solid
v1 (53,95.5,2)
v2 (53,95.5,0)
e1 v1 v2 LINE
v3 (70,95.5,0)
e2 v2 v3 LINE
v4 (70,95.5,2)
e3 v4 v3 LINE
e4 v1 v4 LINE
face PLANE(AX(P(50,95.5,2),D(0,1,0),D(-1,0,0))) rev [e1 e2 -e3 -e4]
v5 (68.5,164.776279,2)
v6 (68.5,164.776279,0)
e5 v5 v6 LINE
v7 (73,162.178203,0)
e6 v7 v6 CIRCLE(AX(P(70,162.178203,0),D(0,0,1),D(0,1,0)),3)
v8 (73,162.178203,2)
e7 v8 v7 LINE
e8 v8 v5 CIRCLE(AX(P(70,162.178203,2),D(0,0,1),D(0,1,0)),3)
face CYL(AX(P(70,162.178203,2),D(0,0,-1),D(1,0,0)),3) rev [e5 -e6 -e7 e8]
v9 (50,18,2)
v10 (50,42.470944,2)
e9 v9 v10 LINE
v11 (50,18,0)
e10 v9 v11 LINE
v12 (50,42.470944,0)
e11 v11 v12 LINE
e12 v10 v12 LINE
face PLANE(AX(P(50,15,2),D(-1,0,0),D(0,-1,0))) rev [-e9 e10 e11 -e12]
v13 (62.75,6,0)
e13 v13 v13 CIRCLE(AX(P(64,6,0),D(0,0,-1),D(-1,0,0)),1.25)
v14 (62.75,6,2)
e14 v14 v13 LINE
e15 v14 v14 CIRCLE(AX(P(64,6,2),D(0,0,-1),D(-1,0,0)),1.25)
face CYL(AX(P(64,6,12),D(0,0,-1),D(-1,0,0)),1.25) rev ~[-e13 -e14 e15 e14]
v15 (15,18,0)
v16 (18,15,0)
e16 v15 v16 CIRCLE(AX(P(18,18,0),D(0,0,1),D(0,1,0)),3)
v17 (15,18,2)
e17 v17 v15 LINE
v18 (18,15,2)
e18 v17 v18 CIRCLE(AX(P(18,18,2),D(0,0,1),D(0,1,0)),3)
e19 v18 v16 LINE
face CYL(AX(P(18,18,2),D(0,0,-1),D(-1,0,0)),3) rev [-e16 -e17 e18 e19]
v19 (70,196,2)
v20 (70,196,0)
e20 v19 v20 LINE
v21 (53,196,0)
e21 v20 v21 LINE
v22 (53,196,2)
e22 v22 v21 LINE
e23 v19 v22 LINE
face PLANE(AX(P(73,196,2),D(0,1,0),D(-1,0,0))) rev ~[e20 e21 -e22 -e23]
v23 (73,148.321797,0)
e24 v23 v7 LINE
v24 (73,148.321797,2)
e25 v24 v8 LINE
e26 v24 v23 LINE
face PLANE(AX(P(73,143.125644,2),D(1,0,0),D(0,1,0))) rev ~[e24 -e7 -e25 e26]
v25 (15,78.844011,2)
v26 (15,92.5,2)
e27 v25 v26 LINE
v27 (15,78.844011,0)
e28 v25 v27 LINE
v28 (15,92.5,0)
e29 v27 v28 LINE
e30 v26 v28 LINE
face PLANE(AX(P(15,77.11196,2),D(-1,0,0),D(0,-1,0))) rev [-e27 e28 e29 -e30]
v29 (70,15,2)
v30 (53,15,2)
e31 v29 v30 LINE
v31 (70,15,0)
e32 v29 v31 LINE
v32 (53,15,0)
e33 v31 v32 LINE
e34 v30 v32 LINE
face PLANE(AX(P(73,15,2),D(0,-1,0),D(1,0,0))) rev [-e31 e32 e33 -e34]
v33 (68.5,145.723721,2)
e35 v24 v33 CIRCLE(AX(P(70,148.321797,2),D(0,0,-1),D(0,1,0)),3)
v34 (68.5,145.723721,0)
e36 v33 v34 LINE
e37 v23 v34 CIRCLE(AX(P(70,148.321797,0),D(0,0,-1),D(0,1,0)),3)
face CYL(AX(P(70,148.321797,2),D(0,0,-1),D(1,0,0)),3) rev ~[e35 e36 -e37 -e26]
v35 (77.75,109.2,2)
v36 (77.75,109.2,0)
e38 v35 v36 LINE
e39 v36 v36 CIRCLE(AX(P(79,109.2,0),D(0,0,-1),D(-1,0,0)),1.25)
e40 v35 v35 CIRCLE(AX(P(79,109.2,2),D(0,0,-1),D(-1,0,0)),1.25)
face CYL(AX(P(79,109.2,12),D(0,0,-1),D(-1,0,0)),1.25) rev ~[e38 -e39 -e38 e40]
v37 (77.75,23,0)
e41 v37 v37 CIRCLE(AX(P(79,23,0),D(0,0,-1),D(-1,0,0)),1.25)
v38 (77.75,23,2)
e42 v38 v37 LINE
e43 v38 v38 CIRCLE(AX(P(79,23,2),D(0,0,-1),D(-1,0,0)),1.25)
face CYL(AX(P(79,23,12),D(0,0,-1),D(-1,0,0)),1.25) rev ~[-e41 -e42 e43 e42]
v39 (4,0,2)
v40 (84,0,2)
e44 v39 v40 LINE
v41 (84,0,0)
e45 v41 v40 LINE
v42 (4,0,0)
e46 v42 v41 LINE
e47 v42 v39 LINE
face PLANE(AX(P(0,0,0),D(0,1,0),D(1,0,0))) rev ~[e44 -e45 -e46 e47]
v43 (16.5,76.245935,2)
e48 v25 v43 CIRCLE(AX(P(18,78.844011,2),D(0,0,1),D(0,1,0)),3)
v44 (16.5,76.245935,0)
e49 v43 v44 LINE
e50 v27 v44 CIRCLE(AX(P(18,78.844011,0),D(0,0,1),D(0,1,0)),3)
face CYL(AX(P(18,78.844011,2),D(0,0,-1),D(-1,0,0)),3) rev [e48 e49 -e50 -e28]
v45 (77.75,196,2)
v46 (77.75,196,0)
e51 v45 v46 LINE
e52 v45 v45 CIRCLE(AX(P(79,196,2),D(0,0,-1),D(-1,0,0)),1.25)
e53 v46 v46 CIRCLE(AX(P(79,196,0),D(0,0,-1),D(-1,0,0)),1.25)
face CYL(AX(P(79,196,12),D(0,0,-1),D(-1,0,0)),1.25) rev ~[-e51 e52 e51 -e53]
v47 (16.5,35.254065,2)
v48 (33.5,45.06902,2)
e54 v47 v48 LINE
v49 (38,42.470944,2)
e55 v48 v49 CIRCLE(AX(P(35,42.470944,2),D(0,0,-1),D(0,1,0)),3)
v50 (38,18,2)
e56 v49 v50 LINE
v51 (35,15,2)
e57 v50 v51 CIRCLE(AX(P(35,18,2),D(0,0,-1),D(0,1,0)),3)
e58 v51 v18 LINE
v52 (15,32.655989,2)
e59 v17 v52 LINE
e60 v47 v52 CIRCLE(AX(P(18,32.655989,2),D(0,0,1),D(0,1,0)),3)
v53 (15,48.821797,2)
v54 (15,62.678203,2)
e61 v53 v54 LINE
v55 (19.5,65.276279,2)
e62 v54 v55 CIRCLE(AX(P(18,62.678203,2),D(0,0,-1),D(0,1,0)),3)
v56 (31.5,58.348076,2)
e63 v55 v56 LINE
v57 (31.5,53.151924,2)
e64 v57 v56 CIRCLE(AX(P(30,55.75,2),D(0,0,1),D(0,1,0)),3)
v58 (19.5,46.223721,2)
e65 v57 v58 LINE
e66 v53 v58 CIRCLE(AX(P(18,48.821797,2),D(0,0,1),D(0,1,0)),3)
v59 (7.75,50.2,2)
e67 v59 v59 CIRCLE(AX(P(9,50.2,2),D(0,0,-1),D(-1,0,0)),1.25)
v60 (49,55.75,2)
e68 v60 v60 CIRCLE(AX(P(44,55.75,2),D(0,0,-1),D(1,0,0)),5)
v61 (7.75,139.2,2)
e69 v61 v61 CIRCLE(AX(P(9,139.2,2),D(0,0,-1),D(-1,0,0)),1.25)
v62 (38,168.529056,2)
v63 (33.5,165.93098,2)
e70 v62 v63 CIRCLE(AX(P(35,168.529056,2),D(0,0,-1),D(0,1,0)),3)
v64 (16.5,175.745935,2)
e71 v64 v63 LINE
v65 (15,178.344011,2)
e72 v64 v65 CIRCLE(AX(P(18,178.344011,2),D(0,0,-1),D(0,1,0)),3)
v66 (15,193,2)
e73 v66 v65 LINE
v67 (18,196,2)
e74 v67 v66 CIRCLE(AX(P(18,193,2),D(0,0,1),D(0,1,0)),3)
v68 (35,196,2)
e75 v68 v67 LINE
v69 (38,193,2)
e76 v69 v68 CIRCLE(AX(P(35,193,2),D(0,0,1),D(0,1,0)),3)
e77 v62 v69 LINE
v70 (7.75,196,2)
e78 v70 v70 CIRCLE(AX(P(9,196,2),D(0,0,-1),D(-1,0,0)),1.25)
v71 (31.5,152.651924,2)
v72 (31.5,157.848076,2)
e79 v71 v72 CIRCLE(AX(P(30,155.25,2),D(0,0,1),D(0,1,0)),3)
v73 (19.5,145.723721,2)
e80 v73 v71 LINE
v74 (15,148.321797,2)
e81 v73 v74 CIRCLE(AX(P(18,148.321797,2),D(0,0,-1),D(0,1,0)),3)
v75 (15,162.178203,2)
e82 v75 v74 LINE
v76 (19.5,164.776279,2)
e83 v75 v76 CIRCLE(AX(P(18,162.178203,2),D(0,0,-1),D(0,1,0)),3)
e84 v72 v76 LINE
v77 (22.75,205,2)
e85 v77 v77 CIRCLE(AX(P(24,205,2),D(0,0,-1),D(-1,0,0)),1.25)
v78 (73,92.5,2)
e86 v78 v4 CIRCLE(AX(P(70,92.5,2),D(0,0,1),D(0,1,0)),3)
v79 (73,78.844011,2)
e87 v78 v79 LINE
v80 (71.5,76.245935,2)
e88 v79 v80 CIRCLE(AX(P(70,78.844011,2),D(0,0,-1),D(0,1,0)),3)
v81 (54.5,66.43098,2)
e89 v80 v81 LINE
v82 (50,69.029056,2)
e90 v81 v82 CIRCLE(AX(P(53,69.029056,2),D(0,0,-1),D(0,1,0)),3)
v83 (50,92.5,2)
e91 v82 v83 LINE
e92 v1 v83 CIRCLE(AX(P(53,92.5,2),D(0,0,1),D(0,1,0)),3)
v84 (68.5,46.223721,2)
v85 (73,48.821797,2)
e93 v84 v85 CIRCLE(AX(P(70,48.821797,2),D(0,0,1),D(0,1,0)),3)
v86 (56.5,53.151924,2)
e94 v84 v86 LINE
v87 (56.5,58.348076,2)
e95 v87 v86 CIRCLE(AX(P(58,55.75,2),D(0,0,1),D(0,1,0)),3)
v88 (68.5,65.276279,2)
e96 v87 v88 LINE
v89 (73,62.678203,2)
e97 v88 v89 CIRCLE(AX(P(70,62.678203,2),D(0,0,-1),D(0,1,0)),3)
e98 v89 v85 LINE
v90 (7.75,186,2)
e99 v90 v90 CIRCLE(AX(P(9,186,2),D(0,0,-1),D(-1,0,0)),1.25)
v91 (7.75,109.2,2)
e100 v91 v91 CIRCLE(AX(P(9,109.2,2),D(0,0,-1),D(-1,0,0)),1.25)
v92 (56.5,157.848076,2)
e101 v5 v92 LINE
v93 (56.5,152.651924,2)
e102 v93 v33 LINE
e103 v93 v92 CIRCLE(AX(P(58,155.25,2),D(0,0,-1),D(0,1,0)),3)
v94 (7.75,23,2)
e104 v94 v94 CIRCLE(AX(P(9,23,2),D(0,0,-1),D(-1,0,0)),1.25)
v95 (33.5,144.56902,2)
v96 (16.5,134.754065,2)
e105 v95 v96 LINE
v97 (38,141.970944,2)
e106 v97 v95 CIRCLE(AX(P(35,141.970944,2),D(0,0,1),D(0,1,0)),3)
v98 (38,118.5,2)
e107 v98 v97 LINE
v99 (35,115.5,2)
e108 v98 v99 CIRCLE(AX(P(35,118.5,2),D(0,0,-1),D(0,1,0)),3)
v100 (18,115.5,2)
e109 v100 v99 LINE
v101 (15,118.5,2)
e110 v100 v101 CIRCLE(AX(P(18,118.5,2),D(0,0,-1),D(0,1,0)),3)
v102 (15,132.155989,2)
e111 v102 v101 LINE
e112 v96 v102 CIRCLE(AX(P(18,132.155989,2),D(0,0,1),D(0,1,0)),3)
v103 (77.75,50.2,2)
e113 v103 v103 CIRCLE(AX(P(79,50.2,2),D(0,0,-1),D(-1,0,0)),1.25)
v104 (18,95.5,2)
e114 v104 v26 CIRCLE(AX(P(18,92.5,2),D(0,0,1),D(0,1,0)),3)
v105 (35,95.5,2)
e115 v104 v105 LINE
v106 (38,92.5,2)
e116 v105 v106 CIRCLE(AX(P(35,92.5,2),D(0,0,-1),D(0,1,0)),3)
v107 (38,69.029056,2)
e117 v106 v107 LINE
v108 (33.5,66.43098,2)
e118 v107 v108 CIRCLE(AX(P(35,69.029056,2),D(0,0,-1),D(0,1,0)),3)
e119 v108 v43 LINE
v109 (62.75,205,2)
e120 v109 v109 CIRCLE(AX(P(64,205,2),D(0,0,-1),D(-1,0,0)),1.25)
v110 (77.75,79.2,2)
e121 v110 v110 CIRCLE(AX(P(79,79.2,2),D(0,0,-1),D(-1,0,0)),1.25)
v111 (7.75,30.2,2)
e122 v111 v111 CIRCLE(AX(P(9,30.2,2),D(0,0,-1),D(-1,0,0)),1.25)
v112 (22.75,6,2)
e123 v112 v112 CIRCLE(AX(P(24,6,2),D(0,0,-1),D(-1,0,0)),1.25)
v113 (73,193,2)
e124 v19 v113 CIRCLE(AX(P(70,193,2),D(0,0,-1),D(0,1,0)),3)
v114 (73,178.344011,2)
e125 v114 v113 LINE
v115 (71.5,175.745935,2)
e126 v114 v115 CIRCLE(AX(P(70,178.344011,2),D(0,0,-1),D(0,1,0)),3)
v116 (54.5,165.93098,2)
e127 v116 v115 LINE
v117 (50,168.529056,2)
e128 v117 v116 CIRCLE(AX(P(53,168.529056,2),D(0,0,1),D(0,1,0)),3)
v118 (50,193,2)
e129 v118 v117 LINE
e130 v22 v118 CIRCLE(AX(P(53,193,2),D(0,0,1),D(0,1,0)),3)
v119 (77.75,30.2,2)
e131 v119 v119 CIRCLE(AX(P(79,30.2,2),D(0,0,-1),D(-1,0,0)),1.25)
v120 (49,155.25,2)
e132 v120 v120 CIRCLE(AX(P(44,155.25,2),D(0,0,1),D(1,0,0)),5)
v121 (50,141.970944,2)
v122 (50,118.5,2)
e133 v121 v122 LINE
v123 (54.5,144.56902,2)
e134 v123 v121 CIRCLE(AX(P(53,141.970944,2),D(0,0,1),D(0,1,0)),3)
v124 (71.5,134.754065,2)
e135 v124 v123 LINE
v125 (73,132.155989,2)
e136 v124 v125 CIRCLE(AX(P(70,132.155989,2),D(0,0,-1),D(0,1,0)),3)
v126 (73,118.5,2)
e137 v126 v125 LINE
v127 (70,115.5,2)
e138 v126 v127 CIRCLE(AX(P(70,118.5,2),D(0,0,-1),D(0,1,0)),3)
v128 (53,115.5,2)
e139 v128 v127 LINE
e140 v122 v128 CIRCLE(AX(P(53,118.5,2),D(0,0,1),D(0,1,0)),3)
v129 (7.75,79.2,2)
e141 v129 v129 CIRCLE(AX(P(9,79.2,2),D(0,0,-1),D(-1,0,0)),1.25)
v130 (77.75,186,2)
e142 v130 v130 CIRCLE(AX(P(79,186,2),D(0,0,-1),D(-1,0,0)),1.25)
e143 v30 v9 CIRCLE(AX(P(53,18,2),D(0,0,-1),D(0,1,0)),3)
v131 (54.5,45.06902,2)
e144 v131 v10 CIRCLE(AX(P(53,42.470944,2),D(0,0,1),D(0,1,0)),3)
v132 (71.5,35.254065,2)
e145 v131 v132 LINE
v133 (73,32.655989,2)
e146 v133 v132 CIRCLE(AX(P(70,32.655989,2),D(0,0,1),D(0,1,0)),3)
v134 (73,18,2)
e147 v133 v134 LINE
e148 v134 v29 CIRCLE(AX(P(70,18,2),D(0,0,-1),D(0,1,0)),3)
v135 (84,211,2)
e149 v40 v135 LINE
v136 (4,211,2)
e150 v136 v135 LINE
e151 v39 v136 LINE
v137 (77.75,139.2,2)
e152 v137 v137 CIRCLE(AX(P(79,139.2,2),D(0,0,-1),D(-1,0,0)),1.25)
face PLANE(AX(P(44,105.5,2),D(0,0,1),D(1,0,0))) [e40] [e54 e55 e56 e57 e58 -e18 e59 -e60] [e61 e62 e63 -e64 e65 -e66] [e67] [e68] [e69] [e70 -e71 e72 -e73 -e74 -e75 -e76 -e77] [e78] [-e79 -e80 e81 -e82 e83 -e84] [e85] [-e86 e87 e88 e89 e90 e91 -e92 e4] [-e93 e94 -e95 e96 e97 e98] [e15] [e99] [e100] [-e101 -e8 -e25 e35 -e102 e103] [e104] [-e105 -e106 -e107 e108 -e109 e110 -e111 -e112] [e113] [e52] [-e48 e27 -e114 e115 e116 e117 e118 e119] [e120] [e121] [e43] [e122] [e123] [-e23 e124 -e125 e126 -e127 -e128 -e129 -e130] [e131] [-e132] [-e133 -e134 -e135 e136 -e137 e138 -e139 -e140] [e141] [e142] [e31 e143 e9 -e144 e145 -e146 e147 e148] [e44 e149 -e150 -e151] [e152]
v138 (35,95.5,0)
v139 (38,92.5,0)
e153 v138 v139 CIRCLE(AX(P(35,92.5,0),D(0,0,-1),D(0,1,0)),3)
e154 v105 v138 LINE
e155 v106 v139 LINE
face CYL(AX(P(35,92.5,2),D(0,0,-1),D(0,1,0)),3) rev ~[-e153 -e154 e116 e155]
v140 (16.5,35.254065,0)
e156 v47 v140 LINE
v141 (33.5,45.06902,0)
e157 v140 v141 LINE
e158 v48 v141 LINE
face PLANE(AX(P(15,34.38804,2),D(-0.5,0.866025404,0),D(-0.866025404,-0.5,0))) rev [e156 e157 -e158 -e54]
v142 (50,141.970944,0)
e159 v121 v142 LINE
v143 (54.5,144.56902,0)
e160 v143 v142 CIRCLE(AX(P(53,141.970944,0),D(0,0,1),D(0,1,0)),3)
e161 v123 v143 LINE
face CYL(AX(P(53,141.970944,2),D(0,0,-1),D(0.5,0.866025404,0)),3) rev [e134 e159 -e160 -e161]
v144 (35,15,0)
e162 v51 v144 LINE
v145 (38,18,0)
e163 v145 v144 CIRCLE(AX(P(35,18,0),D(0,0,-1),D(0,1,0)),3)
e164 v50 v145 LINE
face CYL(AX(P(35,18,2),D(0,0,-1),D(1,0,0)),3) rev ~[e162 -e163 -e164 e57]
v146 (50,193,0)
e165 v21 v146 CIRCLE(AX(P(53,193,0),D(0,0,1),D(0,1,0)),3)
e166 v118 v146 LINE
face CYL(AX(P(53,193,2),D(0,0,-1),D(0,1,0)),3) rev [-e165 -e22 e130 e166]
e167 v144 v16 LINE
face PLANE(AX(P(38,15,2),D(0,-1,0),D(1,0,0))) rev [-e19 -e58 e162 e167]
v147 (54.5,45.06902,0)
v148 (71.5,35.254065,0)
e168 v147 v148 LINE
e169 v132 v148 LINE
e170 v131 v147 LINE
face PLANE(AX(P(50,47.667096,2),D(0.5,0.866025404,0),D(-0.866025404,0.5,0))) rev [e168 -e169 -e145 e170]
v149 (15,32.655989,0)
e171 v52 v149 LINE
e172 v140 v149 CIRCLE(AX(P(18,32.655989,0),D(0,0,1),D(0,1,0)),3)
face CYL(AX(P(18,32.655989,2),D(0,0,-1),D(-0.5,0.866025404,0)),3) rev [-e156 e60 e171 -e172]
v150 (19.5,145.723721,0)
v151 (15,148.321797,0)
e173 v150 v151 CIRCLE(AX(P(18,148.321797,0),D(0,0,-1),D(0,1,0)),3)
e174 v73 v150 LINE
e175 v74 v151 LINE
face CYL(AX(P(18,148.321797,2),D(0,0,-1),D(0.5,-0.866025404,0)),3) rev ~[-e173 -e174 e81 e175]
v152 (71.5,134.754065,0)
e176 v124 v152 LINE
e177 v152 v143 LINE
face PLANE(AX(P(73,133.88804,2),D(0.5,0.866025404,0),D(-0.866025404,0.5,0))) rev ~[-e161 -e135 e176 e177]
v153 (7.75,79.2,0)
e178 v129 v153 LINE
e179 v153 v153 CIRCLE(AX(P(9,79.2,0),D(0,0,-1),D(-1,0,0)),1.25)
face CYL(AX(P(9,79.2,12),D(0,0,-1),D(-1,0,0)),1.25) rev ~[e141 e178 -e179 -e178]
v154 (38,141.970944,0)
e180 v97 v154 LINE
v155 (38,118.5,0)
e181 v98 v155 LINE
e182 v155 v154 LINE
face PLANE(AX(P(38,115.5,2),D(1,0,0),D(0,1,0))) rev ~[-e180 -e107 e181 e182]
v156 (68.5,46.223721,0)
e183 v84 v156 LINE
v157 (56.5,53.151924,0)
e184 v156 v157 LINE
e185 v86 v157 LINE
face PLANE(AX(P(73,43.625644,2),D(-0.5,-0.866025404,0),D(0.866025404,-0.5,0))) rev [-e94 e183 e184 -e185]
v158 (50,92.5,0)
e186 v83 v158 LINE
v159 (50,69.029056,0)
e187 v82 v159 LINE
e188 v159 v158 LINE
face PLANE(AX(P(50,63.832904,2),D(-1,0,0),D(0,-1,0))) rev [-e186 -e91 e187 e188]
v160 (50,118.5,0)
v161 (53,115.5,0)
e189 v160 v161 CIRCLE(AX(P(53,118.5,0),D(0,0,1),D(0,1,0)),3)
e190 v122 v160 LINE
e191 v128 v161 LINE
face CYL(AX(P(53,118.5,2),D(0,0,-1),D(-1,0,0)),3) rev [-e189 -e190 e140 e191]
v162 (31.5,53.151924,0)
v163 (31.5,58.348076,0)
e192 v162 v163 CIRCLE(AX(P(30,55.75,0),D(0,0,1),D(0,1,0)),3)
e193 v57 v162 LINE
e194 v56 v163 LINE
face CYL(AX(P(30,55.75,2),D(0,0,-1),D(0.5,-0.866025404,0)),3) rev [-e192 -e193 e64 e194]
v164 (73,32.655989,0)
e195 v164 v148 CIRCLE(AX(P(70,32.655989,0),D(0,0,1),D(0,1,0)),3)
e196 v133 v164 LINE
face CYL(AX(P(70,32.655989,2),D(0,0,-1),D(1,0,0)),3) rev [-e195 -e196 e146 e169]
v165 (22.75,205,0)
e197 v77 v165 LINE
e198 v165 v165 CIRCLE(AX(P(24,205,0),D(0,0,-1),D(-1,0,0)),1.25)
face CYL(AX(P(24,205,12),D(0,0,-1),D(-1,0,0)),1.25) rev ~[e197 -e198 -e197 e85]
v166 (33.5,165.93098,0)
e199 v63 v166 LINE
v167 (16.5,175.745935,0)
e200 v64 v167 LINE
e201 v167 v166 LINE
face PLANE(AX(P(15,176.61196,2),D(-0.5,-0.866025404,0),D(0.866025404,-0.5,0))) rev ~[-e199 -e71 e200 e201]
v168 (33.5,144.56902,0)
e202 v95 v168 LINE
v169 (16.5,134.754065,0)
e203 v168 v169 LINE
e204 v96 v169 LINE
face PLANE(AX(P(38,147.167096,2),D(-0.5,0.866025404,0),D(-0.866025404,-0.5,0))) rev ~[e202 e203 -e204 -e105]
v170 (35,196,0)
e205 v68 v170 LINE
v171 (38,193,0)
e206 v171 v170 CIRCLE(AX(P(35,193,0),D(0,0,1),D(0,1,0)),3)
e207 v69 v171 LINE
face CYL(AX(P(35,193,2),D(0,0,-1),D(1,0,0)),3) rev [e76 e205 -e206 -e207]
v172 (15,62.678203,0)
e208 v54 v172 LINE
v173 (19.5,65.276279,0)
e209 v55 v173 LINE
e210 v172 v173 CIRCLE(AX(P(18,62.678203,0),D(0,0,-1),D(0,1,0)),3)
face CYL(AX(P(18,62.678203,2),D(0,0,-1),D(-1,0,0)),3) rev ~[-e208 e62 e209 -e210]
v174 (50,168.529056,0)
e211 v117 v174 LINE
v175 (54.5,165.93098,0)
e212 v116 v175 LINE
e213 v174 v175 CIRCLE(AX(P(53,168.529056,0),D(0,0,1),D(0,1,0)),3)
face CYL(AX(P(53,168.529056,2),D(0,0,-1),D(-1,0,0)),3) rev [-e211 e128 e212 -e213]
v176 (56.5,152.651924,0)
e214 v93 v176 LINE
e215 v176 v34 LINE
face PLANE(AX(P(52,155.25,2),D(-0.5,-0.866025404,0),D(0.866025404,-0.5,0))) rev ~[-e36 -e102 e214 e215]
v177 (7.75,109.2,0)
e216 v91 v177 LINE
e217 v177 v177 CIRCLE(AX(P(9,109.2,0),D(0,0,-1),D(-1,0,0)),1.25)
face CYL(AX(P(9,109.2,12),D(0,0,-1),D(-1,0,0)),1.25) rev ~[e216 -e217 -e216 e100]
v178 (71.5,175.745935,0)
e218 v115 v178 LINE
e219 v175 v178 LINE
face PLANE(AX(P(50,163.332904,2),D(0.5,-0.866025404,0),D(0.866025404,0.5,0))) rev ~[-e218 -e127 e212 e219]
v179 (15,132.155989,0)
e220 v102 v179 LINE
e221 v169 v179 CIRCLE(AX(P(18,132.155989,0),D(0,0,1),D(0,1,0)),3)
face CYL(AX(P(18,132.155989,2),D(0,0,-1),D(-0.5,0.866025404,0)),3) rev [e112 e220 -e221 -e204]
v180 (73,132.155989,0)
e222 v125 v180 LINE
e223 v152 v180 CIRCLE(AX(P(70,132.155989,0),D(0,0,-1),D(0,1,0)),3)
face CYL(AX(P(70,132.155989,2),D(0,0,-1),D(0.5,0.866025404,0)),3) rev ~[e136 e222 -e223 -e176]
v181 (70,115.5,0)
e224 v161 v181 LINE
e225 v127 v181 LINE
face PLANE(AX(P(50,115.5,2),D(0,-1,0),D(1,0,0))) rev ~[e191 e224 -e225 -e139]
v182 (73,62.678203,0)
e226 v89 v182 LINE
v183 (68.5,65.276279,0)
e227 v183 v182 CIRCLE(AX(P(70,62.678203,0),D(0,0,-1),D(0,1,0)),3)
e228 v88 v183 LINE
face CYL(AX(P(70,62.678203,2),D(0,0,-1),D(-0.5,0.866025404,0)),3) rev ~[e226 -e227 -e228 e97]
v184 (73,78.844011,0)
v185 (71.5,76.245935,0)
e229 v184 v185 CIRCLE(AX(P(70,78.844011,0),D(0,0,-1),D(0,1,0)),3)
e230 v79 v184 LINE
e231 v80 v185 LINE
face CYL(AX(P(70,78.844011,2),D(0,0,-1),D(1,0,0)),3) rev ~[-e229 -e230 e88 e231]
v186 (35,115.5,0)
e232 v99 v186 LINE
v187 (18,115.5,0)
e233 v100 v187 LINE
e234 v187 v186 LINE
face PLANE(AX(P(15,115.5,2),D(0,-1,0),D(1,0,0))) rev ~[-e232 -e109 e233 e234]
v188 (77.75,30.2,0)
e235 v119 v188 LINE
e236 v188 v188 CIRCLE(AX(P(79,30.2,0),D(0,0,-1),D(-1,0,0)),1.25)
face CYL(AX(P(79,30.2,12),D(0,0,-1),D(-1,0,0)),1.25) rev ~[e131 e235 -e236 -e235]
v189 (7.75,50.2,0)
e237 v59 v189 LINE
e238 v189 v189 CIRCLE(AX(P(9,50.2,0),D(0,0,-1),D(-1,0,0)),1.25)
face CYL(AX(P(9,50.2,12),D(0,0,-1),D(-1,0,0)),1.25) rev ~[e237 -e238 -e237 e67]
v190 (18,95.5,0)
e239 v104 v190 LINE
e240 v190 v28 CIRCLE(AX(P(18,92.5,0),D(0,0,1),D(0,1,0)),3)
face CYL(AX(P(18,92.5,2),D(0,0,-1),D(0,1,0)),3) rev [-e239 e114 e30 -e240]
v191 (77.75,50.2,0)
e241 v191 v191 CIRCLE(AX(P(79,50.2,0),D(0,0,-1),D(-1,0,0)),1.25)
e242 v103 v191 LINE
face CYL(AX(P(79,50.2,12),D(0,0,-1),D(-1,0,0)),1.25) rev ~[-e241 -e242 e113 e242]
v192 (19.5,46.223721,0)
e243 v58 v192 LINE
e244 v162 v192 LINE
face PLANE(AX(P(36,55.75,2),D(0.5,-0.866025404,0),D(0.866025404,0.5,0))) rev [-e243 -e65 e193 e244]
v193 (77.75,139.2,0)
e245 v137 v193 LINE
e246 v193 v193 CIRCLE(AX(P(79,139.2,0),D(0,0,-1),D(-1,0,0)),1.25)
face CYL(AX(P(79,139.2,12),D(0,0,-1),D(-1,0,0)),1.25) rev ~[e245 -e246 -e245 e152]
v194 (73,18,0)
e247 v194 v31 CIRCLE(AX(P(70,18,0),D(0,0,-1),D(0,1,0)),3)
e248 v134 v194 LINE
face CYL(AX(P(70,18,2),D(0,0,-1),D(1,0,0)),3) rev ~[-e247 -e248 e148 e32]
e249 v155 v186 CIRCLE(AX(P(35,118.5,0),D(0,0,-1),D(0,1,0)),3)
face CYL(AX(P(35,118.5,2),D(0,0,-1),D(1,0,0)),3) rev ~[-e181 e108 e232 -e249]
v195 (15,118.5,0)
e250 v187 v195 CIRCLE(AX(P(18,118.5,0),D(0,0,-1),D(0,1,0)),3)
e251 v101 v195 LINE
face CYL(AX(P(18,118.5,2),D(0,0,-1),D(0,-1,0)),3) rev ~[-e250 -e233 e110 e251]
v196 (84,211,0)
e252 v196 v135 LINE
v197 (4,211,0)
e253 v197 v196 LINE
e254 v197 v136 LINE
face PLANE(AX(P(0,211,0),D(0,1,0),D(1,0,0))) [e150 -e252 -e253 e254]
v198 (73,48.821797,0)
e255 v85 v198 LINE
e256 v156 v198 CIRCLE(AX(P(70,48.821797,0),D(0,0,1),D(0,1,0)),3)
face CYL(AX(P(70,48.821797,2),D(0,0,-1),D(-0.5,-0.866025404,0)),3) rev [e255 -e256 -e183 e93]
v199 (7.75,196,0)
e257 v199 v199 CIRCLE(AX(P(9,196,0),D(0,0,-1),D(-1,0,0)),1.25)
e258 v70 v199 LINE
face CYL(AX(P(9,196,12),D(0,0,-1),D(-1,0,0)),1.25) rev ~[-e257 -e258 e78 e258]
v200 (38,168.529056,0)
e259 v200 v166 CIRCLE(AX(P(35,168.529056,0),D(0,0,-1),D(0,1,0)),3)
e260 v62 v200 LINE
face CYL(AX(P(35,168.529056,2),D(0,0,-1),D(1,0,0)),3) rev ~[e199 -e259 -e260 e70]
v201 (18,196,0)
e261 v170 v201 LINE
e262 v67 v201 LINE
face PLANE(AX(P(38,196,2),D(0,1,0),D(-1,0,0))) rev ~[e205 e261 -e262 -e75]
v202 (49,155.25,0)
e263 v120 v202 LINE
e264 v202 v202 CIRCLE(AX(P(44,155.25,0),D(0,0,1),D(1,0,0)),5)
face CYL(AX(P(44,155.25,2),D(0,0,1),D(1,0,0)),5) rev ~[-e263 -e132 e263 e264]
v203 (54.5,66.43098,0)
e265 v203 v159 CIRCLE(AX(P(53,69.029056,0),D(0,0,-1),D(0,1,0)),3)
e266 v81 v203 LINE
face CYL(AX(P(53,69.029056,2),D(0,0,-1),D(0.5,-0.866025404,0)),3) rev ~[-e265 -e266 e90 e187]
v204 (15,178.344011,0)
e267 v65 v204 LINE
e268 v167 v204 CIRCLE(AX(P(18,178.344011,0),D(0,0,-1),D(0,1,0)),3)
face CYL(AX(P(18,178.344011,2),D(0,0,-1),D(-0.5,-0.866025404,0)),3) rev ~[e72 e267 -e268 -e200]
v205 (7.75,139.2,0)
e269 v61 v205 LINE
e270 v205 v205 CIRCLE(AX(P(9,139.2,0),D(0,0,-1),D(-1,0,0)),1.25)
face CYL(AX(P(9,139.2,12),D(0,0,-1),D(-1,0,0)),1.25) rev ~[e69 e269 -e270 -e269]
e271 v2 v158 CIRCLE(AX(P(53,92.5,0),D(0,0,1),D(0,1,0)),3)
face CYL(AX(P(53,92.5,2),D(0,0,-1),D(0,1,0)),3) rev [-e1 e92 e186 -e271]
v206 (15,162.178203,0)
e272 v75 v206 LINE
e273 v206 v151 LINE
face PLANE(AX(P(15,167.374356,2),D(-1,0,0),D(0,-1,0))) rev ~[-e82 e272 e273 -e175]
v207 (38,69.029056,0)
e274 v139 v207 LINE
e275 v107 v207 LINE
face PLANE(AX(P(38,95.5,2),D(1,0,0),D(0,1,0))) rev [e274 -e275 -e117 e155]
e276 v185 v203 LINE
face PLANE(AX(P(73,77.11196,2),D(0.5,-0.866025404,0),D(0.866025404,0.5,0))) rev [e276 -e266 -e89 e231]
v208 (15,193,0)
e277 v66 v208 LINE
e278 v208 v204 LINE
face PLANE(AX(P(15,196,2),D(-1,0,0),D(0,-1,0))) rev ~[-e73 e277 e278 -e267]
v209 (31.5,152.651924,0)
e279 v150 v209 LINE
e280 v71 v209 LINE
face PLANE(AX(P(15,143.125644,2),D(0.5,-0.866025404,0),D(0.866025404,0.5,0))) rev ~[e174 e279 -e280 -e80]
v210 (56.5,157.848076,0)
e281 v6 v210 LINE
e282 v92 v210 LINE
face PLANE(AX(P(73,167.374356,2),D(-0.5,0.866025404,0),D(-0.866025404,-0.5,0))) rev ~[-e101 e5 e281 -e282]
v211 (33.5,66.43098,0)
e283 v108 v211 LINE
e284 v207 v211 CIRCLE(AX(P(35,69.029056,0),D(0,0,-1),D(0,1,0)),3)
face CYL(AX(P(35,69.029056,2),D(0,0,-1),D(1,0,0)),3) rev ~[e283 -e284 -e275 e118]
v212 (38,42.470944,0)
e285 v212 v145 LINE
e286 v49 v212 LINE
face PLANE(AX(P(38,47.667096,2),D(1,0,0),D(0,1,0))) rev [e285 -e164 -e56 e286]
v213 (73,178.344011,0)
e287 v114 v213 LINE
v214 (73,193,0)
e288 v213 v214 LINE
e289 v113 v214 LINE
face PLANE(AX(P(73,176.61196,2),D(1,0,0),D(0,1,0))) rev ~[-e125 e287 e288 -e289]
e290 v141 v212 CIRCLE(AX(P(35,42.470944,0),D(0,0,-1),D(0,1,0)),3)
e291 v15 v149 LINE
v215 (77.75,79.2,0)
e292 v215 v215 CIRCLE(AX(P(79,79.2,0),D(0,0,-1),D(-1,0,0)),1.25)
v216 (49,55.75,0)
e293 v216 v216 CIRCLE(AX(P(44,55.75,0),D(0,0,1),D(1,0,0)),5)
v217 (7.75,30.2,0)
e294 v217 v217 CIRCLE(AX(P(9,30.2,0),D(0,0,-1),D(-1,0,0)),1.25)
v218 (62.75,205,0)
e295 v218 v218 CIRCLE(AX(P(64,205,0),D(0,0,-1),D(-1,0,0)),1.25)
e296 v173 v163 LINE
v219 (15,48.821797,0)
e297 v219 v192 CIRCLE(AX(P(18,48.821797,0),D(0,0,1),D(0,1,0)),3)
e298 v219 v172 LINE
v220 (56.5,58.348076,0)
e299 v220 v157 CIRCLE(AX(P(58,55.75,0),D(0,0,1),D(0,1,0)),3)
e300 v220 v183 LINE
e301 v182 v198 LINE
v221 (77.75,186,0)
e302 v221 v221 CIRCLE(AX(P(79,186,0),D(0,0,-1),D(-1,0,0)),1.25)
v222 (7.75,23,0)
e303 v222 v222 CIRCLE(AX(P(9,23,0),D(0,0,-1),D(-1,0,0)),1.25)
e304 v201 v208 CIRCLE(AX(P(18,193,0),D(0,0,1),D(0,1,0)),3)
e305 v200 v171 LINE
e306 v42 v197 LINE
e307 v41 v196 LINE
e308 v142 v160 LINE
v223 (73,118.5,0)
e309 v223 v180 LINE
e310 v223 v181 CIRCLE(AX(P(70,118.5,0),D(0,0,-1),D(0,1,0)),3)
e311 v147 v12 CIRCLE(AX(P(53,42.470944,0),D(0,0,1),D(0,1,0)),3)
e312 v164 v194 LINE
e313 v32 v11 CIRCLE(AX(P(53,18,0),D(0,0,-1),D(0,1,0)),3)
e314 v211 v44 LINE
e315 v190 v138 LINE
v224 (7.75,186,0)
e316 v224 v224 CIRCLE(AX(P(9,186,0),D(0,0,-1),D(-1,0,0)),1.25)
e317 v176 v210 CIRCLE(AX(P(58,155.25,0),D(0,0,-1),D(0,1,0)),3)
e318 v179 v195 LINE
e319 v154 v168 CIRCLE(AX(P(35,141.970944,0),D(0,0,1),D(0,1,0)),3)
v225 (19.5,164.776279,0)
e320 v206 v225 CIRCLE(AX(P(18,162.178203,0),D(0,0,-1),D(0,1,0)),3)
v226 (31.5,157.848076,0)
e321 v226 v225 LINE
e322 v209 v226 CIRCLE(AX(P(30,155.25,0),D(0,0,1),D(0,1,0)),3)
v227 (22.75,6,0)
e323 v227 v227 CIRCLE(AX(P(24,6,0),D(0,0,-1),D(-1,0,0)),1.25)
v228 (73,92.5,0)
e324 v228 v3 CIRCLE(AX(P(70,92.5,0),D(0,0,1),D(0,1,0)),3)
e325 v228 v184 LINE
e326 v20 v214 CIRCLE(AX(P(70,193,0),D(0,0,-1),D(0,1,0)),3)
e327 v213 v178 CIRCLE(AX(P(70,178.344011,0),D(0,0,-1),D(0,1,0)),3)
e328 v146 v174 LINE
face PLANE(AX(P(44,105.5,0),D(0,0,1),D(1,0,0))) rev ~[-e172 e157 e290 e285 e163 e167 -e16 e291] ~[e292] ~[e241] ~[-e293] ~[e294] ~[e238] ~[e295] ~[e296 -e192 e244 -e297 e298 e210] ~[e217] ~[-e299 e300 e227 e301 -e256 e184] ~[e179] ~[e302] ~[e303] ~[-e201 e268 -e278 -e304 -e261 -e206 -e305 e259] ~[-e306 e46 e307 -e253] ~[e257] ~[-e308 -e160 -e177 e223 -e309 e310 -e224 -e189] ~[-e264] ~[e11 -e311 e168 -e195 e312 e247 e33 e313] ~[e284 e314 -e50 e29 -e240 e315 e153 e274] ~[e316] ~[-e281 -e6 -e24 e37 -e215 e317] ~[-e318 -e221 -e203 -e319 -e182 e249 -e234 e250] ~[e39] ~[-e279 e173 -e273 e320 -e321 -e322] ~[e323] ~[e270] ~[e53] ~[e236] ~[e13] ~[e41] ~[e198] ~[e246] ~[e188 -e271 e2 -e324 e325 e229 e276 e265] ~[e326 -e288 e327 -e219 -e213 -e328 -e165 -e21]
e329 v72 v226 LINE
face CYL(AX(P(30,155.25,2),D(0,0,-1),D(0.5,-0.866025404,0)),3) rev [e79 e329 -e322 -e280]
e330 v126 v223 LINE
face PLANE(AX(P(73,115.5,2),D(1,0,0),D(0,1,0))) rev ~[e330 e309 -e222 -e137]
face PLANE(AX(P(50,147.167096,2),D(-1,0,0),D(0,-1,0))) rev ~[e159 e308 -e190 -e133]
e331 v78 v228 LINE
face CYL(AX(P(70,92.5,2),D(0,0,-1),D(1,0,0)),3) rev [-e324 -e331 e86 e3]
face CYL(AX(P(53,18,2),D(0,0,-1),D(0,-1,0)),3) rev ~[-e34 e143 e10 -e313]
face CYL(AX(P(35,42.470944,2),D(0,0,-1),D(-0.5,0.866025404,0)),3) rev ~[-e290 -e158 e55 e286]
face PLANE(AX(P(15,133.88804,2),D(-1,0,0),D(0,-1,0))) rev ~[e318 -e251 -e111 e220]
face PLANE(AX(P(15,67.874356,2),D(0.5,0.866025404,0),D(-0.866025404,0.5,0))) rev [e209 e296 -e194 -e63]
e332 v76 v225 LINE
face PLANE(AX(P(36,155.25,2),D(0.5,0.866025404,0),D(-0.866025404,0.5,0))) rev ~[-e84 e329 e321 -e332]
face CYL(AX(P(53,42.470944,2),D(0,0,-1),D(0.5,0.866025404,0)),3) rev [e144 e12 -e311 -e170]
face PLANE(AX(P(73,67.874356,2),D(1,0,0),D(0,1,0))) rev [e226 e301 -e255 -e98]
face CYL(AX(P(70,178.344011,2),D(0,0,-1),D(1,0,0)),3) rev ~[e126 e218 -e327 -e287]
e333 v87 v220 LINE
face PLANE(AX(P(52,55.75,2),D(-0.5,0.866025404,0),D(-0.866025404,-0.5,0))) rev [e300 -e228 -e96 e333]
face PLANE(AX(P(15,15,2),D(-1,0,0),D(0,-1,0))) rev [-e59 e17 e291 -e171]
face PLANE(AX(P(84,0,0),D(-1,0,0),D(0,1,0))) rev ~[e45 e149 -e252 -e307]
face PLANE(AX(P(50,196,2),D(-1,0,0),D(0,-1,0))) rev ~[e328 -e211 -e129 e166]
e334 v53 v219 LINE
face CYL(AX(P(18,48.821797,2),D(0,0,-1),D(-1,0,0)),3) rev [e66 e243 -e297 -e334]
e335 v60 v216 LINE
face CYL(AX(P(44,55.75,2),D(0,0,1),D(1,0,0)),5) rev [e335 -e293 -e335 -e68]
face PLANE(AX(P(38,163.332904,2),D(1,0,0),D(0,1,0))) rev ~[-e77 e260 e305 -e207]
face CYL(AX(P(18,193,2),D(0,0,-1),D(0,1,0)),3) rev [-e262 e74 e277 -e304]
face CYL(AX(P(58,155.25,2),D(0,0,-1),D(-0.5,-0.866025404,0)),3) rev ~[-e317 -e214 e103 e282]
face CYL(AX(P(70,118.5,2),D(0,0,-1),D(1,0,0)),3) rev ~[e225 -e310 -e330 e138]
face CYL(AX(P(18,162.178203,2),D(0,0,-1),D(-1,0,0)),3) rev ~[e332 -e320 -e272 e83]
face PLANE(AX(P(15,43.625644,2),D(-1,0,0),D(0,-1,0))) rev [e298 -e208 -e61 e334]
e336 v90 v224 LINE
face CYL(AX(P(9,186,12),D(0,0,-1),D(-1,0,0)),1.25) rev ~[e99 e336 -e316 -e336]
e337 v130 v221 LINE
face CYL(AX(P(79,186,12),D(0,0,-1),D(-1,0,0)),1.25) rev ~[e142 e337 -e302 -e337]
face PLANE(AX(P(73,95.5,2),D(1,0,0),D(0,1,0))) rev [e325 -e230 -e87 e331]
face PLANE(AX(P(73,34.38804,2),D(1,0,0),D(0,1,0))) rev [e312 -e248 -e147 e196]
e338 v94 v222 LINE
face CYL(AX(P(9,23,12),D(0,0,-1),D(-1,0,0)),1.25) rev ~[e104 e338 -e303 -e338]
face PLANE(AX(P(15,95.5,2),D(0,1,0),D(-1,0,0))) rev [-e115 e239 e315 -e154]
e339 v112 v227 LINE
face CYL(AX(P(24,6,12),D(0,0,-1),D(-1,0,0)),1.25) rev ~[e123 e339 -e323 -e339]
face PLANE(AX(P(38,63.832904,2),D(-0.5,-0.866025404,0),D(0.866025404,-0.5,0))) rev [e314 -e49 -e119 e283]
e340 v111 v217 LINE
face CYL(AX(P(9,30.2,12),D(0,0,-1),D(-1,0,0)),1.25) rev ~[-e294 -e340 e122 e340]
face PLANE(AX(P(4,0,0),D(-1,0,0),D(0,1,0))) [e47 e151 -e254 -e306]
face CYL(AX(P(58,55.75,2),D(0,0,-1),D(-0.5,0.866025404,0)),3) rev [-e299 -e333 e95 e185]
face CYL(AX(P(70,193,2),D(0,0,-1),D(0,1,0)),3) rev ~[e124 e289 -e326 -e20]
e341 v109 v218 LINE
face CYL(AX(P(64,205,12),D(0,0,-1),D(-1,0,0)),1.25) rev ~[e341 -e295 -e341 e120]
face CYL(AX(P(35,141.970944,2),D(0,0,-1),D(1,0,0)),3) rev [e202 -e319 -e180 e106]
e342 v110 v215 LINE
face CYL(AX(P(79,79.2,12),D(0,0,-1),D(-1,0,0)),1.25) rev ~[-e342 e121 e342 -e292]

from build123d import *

# Parameters (mm, degrees)
SKETCH1_W                 = 88
SKETCH1_H                 = 211
BOSS_EXTRUDE1_DEPTH       = 2
CUT_EXTRUDE2_DEPTH        = 2
SKETCH4_R                 = 5
CUT_EXTRUDE3_DEPTH        = 3
FILLET2_R                 = 3
SKETCH23_W                = 2
SKETCH23_H                = 211
SKETCH23_W_2              = 2.150374681
CUT_EXTRUDE5_DEPTH        = 10
SKETCH29_W                = 5.911493913
SKETCH29_H                = 211
SKETCH29_W_2              = 4.036537762
CUT_EXTRUDE10_DEPTH       = 2
M3X0_5_TAPPED_HOLE1_D     = 2.5
M3X0_5_TAPPED_HOLE1_DEPTH = 10
M3X0_5_TAPPED_HOLE1_TIP   = 0.751075774


with BuildPart() as part:
    # Sketch1 → Boss-Extrude1 (new body)
    with BuildSketch(Plane.XY):
        with Locations((44, 105.5)):
            Rectangle(SKETCH1_W, SKETCH1_H)
    extrude(amount=BOSS_EXTRUDE1_DEPTH)

    # Sketch3 → Cut-Extrude2 (cut)
    with BuildSketch(Plane.XY.offset(2)):
        Polygon((73, 133.88804004), (50, 147.167096231), (50, 115.5), (73, 115.5), align=None)
        Polygon((38, 115.5), (38, 147.167096231), (15, 133.88804004), (15, 115.5), align=None)
        Polygon((15, 143.125644347), (36, 155.25), (15, 167.374355653), align=None)
        Polygon((73, 143.125644347), (73, 167.374355653), (52, 155.25), align=None)
        Polygon((73, 196), (50, 196), (50, 163.332903769), (73, 176.61195996), align=None)
        Polygon((38, 163.332903769), (38, 196), (15, 196), (15, 176.61195996), align=None)
    cut_extrude2 = extrude(amount=-CUT_EXTRUDE2_DEPTH, mode=Mode.SUBTRACT)

    # Sketch4 → Cut-Extrude3 (cut, through all)
    with BuildSketch(Plane.XY.offset(2)):
        with Locations((44, 155.25)):
            Circle(SKETCH4_R)
    cut_extrude3 = extrude(amount=-CUT_EXTRUDE3_DEPTH, mode=Mode.SUBTRACT)

    # Mirror2: Cut-Extrude2, Cut-Extrude3 across plane
    add(cut_extrude2.mirror(Plane.ZX.offset(105.5)), mode=Mode.SUBTRACT)
    add(cut_extrude3.mirror(Plane.ZX.offset(105.5)), mode=Mode.SUBTRACT)

    # Fillet2
    fillet2_edges = [part.edges().sort_by_distance(p)[0] for p in [
        (36, 55.75, 1),
        (15, 43.625644347, 1),
        (15, 67.874355653, 1),
        (38, 95.5, 1),
        (38, 63.832903769, 1),
        (15, 77.11195996, 1),
        (15, 95.5, 1),
        (73, 15, 1),
        (50, 15, 1),
        (50, 47.667096231, 1),
        (73, 34.38804004, 1),
        (73, 43.625644347, 1),
        (52, 55.75, 1),
        (73, 67.874355653, 1),
        (15, 15, 1),
        (15, 34.38804004, 1),
        (38, 47.667096231, 1),
        (38, 15, 1),
        (73, 77.11195996, 1),
        (50, 63.832903769, 1),
        (50, 95.5, 1),
        (73, 95.5, 1),
        (15, 167.374355653, 1),
        (36, 155.25, 1),
        (15, 143.125644347, 1),
        (38, 147.167096231, 1),
        (38, 115.5, 1),
        (15, 115.5, 1),
        (15, 133.88804004, 1),
        (50, 196, 1),
        (73, 196, 1),
        (73, 176.61195996, 1),
        (50, 163.332903769, 1),
        (52, 155.25, 1),
        (73, 167.374355653, 1),
        (73, 143.125644347, 1),
        (15, 176.61195996, 1),
        (15, 196, 1),
        (38, 196, 1),
        (38, 163.332903769, 1),
        (50, 147.167096231, 1),
        (73, 133.88804004, 1),
        (73, 115.5, 1),
        (50, 115.5, 1),
    ]]
    fillet(fillet2_edges, radius=FILLET2_R)

    # Sketch23 → Cut-Extrude5 (cut)
    with BuildSketch(Plane.XY.offset(2)):
        with Locations((87, 105.5)):
            Rectangle(SKETCH23_W, SKETCH23_H)
        with Locations((1.075187341, 105.5)):
            Rectangle(SKETCH23_W_2, SKETCH23_H)
    extrude(amount=-CUT_EXTRUDE5_DEPTH, mode=Mode.SUBTRACT)

    # Sketch29 → Cut-Extrude10 (cut)
    with BuildSketch(Plane(origin=(0, 0, 0), x_dir=(-1, 0, 0), z_dir=(0, 0, -1))):
        with Locations((-1.044253043, 105.5)):
            Rectangle(SKETCH29_W, SKETCH29_H)
        with Locations((-86.018268881, 105.5)):
            Rectangle(SKETCH29_W_2, SKETCH29_H)
    extrude(amount=-CUT_EXTRUDE10_DEPTH, mode=Mode.SUBTRACT)

    # M3x0.5 Tapped Hole1
    with Locations(Plane.XY.offset(2)):
        with Locations((9, 186), (9, 139.2), (9, 109.2), (9, 79.2), (9, 50.2), (9, 30.2), (79, 186), (79, 139.2), (79, 109.2), (79, 79.2), (79, 50.2), (79, 30.2), (24, 6), (64, 6), (24, 205), (64, 205), (9, 196), (79, 196), (9, 23), (79, 23)):
            Hole(M3X0_5_TAPPED_HOLE1_D / 2, depth=M3X0_5_TAPPED_HOLE1_DEPTH)
            with Locations((0, 0, -(M3X0_5_TAPPED_HOLE1_DEPTH + M3X0_5_TAPPED_HOLE1_TIP / 2))):  # 118° drill point
                Cone(0, M3X0_5_TAPPED_HOLE1_D / 2, M3X0_5_TAPPED_HOLE1_TIP, mode=Mode.SUBTRACT)


solid = part.part
